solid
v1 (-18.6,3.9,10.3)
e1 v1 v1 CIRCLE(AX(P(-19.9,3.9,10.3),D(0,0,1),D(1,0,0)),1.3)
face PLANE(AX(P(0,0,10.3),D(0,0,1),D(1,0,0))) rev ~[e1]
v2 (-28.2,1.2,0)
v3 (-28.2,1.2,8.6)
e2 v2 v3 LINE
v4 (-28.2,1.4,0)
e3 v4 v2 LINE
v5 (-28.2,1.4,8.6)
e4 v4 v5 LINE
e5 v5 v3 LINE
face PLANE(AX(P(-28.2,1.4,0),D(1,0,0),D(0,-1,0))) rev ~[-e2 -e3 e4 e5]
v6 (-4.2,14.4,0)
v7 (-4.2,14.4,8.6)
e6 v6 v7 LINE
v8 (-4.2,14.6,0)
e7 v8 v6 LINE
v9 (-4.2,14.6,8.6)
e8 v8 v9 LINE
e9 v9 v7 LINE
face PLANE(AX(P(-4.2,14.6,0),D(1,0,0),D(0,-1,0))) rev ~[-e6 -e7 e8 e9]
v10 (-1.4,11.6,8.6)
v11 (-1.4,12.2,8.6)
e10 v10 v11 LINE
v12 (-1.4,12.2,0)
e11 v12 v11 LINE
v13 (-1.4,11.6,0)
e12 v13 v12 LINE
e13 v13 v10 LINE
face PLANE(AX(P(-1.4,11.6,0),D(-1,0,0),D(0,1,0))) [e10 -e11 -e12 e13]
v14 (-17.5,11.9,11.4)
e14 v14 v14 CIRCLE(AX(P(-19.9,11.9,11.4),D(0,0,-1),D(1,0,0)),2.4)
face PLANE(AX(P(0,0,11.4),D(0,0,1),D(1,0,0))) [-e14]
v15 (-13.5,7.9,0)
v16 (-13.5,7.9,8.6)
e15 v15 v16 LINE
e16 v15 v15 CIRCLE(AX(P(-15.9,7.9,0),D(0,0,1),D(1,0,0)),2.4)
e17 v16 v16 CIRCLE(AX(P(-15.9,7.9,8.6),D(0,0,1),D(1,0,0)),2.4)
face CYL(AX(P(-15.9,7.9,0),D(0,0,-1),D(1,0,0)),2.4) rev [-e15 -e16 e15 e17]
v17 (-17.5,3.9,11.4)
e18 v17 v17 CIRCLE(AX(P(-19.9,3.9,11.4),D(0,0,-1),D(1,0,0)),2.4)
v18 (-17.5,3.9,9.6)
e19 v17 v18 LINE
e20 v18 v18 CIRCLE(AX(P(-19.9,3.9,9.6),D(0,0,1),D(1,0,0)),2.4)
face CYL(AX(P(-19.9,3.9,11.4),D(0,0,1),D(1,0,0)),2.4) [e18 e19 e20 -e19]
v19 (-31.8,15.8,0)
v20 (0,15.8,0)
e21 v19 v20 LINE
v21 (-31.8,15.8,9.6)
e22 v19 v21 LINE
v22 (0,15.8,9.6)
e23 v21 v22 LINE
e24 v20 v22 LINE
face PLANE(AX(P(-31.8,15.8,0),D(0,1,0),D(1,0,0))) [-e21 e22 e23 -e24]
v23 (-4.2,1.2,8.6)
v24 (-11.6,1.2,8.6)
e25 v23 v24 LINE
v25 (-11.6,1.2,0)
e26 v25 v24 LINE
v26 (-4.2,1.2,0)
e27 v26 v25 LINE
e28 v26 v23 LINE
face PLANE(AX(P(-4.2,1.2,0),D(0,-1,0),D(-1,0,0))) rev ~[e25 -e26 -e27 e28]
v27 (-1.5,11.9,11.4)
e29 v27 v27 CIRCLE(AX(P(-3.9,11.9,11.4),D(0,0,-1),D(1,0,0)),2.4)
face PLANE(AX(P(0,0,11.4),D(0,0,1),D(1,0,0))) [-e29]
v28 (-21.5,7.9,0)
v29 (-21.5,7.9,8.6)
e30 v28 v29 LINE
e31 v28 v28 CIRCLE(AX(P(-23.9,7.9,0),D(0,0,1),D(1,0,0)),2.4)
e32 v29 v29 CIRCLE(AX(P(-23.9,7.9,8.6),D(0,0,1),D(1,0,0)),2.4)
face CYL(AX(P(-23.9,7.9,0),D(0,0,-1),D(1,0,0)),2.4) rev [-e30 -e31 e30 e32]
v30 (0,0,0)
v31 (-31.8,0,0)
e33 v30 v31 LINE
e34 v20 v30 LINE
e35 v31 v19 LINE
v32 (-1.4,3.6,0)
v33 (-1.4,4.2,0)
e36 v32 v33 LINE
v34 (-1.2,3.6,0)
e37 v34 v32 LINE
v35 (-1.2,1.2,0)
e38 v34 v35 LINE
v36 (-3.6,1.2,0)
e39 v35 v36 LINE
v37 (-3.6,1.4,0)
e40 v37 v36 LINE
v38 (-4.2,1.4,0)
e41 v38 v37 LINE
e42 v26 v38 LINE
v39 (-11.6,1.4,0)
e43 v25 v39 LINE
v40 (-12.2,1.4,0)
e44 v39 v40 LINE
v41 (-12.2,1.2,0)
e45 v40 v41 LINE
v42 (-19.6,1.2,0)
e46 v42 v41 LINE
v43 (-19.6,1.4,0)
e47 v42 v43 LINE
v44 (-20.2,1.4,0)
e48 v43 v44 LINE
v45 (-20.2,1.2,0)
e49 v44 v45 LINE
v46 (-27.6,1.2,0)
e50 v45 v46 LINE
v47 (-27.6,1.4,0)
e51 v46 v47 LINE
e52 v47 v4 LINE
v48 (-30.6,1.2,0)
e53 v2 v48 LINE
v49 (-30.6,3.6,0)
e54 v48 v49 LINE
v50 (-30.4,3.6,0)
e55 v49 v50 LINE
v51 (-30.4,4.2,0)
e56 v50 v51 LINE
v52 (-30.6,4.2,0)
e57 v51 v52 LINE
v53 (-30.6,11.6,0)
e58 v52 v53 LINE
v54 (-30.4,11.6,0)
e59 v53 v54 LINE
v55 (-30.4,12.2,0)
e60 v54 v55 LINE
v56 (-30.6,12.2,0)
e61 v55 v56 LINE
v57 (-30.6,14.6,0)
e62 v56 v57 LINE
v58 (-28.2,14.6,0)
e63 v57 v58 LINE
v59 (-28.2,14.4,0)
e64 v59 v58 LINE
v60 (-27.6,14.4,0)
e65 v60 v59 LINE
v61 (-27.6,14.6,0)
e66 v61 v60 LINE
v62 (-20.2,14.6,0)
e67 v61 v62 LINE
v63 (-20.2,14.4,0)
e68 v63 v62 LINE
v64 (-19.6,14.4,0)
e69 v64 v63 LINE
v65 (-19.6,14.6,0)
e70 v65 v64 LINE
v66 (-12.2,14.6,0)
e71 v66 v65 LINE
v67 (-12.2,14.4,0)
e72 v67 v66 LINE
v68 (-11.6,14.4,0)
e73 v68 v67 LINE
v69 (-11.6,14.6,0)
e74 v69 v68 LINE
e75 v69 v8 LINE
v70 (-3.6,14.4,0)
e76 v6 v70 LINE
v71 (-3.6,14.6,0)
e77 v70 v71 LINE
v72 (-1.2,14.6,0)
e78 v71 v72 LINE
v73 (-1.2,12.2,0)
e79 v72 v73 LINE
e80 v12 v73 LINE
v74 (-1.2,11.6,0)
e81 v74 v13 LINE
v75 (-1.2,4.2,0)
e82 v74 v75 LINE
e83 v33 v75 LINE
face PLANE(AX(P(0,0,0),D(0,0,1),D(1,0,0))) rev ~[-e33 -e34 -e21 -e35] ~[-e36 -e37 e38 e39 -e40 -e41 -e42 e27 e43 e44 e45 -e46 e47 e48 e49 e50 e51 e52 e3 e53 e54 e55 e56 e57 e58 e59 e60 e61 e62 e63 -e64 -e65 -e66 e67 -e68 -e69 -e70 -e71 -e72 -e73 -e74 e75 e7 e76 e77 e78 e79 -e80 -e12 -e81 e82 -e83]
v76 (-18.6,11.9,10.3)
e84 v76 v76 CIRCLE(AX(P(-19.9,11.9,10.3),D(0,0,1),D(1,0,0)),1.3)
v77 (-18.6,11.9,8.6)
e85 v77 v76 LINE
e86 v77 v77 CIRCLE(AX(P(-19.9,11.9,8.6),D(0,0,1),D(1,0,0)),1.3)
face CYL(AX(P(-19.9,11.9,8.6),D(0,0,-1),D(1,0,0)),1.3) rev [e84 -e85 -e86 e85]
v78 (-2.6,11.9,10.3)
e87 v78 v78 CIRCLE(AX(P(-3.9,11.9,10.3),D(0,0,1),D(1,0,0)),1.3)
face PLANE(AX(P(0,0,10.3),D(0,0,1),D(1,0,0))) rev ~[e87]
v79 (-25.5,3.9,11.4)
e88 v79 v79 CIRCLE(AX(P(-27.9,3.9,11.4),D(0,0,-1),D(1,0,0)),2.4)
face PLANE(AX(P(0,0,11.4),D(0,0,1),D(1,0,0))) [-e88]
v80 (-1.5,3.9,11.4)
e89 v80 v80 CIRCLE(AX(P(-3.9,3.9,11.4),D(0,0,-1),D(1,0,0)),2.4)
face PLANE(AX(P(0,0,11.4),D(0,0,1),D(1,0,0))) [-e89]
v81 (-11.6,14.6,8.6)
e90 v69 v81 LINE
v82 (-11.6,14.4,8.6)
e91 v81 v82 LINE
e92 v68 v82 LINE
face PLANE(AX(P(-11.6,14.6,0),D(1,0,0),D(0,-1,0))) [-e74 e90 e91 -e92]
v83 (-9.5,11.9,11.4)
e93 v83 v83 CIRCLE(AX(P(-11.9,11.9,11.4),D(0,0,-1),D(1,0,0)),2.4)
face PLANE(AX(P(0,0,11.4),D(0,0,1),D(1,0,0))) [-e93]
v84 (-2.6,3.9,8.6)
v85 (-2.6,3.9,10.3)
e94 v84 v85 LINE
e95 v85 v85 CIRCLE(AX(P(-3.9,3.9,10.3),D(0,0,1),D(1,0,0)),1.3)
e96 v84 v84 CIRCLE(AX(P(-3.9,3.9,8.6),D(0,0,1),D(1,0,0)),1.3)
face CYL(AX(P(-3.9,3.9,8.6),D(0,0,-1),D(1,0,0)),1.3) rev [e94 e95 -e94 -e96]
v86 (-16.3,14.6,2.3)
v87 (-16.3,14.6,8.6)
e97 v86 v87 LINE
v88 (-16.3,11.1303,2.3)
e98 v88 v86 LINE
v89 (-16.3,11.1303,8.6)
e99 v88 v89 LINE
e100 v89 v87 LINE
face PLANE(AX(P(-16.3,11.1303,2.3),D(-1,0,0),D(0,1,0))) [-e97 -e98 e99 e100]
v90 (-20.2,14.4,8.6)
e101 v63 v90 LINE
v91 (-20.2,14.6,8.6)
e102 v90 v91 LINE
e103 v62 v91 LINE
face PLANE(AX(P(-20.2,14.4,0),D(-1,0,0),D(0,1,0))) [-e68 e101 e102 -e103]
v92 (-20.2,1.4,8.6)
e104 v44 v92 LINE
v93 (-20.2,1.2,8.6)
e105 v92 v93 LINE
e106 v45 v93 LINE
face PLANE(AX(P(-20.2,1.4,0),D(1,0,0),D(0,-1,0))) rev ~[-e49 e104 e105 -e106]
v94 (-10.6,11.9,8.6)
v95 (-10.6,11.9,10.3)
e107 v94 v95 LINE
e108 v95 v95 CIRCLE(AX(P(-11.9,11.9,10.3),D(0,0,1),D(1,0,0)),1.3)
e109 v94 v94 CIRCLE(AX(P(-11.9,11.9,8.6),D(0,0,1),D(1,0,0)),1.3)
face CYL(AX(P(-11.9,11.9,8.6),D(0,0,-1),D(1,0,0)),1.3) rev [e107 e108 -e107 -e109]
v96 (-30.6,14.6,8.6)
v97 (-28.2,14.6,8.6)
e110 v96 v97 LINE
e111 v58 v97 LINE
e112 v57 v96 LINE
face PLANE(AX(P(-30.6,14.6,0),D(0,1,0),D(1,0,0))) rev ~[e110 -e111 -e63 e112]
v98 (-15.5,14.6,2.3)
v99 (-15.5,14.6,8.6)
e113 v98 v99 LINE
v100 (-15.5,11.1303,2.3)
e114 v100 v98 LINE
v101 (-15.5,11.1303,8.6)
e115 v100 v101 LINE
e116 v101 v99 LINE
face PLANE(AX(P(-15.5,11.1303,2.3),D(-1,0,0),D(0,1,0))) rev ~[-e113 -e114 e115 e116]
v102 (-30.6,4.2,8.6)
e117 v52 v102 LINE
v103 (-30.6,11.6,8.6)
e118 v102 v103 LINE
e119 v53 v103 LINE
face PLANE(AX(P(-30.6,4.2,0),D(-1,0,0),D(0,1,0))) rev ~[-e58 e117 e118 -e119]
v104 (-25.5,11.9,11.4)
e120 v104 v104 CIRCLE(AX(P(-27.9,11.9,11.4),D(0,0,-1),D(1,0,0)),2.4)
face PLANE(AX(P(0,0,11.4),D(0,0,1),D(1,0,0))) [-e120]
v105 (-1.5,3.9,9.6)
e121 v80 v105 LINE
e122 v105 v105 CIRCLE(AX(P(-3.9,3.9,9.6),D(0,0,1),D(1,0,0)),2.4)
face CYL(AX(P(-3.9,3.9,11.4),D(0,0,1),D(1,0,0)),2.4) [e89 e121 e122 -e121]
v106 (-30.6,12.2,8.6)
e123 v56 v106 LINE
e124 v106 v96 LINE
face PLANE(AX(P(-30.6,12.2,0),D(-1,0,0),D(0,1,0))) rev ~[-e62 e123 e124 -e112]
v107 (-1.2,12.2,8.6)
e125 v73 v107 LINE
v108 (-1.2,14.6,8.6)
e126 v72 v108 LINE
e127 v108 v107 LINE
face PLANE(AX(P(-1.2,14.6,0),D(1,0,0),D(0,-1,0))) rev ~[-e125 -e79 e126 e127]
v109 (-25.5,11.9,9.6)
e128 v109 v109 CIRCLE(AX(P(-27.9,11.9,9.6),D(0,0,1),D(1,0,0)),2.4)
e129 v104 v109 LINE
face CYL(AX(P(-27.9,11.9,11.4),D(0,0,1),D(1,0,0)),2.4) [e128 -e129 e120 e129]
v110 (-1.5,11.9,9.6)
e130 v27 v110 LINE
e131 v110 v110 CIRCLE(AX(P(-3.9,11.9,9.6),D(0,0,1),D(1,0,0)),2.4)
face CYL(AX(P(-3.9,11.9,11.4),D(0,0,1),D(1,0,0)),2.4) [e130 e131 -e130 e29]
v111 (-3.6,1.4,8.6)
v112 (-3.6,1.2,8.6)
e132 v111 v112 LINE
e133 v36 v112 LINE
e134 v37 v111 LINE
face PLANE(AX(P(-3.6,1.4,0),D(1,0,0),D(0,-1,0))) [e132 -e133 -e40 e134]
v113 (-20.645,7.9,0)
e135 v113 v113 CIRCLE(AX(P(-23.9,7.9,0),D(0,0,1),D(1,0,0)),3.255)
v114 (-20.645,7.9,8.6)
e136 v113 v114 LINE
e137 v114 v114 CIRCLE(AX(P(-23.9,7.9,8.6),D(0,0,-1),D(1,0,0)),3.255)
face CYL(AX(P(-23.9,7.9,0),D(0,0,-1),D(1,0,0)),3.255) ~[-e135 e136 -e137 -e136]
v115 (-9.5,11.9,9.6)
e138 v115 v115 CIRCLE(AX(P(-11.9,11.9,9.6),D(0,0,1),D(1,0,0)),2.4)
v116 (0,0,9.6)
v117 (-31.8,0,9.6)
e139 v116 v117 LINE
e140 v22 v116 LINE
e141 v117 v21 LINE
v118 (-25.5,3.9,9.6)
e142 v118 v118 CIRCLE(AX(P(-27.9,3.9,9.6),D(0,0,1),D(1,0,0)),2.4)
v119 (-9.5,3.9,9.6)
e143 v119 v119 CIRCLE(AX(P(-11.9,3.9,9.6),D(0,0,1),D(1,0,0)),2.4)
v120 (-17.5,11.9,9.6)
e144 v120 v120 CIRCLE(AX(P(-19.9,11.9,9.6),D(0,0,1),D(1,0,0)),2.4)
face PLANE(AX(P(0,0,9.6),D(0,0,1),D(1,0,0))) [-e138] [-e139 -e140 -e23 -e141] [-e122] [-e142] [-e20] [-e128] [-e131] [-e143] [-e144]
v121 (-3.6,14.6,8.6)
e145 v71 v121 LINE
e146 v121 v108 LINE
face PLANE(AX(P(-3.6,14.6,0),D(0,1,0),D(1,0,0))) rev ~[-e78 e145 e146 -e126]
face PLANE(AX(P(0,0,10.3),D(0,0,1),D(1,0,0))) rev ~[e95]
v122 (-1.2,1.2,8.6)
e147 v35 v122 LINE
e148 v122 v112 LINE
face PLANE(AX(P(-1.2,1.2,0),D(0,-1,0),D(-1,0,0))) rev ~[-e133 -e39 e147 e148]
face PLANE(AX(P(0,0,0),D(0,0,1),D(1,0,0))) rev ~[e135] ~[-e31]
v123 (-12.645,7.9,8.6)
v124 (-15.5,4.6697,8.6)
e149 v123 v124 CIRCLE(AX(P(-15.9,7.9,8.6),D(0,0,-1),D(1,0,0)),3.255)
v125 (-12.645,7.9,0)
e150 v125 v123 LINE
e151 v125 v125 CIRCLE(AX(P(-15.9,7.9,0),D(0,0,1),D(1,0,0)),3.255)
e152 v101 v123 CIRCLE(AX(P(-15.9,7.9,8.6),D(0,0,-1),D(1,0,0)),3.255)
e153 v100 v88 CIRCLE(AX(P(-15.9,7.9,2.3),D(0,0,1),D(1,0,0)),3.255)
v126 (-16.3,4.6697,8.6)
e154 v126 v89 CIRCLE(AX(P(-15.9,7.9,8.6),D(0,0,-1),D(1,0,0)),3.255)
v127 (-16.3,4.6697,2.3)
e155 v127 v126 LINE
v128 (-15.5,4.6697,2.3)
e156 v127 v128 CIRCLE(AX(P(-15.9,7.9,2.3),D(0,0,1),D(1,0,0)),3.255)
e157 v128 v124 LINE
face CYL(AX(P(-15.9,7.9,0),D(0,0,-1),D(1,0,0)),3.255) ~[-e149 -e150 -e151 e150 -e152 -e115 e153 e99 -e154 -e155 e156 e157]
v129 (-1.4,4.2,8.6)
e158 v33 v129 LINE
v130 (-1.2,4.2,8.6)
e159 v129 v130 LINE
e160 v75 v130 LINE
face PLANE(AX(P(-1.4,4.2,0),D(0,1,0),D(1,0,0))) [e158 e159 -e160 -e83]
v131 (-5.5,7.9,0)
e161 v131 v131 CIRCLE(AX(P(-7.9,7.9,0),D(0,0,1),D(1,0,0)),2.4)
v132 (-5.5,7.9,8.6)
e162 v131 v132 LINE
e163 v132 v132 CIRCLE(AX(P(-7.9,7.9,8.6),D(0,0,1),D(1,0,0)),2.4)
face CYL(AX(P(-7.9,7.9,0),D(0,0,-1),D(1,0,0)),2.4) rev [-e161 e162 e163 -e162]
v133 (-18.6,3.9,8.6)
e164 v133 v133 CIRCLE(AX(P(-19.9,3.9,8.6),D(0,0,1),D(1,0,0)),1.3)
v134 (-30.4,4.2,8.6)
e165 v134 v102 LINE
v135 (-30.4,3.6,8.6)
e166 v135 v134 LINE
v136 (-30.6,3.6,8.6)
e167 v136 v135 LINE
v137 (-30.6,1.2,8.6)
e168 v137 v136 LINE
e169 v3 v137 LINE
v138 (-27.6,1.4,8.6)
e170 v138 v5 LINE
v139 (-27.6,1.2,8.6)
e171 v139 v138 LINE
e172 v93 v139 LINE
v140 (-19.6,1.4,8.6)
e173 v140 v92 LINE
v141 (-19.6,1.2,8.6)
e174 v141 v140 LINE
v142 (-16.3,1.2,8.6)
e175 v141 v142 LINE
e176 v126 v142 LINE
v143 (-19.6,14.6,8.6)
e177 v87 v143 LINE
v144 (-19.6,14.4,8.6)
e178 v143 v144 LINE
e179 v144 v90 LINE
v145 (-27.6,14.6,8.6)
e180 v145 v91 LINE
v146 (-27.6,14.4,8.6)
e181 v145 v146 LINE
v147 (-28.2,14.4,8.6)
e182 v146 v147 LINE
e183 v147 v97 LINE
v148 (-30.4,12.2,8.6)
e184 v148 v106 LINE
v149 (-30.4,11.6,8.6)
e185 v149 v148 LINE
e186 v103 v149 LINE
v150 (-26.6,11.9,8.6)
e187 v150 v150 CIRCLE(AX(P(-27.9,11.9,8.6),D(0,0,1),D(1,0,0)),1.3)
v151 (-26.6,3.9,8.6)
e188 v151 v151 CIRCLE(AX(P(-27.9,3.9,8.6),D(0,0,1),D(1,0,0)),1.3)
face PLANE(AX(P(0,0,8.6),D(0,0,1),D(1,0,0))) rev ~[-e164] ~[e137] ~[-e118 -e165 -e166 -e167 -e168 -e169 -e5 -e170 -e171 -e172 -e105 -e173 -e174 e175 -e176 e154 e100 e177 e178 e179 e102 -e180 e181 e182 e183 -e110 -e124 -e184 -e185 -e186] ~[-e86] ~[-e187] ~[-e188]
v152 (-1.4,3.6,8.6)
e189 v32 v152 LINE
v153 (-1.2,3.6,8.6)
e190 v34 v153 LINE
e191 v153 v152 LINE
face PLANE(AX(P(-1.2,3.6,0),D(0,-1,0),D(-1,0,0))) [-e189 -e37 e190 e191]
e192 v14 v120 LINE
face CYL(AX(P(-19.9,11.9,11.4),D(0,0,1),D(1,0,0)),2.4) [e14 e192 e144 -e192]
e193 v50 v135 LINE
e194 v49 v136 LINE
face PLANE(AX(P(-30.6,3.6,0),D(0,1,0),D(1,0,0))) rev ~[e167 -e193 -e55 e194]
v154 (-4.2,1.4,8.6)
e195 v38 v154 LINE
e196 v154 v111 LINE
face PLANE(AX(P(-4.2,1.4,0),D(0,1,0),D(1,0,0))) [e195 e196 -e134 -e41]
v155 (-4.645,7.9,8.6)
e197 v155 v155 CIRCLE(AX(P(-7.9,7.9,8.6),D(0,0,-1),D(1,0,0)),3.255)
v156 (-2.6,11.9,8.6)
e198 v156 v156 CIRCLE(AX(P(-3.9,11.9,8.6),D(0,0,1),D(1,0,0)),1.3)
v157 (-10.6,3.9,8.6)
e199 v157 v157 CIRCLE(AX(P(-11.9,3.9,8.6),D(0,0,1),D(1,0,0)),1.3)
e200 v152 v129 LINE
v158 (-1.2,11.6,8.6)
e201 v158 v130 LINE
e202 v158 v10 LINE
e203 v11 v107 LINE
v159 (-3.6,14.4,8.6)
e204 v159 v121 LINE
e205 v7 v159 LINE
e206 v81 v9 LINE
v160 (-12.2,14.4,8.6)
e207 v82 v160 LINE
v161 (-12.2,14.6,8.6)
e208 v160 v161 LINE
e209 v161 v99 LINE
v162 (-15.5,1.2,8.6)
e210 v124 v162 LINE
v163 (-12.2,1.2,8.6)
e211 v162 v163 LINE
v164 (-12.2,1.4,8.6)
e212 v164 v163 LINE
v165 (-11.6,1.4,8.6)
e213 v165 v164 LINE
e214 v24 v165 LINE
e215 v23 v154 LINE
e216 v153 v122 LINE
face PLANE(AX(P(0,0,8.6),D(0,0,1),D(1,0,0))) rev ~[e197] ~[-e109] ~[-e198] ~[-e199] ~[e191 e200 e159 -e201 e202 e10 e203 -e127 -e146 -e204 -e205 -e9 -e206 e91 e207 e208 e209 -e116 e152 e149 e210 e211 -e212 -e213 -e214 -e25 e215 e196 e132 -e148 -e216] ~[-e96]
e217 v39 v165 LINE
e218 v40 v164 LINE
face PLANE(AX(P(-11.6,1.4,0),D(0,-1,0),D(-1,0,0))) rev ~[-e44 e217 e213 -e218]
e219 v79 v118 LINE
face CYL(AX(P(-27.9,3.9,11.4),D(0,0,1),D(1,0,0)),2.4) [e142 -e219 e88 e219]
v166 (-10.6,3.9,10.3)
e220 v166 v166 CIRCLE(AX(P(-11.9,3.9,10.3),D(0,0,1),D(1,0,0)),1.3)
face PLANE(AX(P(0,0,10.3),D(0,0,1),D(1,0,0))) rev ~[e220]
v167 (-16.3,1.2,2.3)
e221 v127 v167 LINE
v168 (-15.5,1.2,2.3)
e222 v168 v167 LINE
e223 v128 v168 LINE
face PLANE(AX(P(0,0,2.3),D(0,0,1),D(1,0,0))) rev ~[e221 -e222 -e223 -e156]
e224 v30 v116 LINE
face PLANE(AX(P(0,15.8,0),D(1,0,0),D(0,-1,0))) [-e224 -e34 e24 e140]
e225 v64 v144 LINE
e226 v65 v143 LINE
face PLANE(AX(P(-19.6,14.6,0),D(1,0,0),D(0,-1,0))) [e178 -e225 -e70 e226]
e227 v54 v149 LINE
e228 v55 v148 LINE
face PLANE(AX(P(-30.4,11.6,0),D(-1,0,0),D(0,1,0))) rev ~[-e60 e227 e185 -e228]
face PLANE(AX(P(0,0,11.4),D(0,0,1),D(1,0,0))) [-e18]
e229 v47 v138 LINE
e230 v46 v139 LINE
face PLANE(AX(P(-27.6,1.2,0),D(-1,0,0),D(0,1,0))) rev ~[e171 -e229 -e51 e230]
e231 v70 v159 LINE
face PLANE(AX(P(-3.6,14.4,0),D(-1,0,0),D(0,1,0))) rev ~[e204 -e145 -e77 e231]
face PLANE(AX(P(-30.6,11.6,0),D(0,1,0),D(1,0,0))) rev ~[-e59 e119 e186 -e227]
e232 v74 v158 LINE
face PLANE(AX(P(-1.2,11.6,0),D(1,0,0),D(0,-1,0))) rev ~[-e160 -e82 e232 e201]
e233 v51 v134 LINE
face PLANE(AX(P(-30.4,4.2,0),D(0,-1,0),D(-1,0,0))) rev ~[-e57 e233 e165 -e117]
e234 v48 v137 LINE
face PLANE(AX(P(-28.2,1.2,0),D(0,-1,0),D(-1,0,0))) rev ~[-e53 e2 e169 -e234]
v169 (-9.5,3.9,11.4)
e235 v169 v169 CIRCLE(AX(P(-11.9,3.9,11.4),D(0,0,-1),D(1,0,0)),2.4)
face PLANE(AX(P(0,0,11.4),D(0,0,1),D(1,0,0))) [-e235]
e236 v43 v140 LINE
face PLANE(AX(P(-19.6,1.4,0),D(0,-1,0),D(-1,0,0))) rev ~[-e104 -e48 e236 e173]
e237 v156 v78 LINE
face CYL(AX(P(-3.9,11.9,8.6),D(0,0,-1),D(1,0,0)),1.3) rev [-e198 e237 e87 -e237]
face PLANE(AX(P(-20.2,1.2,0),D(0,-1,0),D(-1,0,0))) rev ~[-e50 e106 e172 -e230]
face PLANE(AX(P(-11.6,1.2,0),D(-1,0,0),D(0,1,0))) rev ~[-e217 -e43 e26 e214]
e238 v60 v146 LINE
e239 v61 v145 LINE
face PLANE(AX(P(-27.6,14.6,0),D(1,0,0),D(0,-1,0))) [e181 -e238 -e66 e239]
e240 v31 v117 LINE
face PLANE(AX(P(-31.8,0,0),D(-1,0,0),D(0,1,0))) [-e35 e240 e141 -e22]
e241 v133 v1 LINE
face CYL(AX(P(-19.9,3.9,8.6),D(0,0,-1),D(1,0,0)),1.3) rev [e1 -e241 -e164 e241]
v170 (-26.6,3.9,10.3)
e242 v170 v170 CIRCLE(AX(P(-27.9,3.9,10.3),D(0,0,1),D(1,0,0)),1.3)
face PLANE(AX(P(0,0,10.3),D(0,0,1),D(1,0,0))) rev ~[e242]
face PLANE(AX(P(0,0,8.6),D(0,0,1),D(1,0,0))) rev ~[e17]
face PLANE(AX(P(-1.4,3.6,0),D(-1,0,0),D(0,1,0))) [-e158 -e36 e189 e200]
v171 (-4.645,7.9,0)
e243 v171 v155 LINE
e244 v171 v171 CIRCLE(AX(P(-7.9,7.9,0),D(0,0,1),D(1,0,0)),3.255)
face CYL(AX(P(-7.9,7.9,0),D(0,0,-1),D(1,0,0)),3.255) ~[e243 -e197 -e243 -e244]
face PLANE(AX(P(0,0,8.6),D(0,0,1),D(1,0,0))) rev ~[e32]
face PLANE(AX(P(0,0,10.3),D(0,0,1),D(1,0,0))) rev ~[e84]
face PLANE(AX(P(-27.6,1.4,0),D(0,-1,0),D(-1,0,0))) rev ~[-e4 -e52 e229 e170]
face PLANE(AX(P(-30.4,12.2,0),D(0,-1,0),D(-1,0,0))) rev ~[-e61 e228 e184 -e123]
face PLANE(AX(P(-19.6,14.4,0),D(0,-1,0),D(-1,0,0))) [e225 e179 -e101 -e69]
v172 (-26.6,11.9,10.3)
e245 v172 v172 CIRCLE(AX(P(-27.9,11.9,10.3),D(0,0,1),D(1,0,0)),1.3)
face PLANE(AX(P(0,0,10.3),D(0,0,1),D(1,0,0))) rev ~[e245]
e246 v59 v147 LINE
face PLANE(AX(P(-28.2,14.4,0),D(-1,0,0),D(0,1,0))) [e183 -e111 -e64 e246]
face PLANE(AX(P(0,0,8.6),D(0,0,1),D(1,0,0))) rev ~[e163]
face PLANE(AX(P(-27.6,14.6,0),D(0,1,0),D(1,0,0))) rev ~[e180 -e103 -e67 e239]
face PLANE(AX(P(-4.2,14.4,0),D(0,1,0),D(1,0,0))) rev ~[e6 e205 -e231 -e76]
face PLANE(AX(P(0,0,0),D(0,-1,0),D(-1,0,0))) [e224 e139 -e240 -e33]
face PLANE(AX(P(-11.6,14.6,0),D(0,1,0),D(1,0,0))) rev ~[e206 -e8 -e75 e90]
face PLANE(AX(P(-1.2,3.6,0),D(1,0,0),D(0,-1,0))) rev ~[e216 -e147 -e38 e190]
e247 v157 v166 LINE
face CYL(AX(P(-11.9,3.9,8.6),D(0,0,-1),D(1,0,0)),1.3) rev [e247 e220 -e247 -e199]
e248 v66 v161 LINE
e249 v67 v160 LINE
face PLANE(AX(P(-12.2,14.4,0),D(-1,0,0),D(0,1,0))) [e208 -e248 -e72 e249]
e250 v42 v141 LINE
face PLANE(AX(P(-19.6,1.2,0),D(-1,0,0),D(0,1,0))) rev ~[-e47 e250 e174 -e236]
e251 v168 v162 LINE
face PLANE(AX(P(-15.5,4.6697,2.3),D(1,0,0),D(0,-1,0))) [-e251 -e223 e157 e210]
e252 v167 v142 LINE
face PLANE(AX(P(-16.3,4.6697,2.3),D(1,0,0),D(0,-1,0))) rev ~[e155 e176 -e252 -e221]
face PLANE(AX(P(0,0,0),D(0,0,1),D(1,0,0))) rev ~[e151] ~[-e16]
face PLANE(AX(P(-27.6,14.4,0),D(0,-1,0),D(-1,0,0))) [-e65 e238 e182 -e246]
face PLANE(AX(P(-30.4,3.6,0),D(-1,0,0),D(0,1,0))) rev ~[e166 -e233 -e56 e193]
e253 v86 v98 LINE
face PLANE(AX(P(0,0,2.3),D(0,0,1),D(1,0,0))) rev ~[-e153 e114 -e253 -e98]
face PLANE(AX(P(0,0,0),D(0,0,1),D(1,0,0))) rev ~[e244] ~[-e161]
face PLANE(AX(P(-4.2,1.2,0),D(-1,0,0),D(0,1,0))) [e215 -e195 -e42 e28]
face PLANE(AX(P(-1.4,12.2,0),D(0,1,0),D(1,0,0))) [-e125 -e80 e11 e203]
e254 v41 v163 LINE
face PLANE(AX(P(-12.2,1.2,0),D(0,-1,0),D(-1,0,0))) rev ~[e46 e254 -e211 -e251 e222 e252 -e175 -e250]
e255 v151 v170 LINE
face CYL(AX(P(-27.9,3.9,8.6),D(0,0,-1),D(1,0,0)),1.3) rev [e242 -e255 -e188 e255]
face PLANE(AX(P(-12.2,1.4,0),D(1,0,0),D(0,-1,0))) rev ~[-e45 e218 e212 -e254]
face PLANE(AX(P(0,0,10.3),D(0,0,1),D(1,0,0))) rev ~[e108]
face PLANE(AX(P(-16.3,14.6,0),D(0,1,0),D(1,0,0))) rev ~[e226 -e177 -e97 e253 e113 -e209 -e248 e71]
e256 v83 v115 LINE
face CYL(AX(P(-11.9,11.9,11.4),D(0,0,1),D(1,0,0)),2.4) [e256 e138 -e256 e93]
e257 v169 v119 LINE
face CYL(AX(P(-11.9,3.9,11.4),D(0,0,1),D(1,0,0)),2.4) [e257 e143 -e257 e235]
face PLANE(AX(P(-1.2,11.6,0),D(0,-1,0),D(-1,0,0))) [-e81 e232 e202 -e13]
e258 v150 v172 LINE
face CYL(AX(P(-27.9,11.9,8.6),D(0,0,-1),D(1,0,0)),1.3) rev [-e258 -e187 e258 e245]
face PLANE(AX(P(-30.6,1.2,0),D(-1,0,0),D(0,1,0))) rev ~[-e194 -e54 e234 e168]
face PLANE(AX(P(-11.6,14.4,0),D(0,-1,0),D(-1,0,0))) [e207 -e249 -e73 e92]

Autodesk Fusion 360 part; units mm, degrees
sketch "side" plane through (0, 0, 0) normal (1, 0, 0) x (0, 1, 0)
  line L0 (0, 0) -> (15.8, 0)
  line L1 (15.8, 0) -> (15.8, 9.6)
  line L2 (15.8, 9.6) -> (0, 9.6)
  line L3 (0, 9.6) -> (0, 0)
  dimension "d1" = 15.8
  dimension "d2" = 9.6
sketch "top" plane through (0, 0, 0) normal (0, 0, 1) x (1, 0, 0)
  line L0 (0, 0) -> (-31.8, 0)
  line L1 (-31.8, 0) -> (-31.8, 15.8)
  line L2 (-31.8, 15.8) -> (0, 15.8)
  line L3 (0, 15.8) -> (0, 0)
  circle A0 centre (-3.9, 11.9) radius 2.4
  line L4 (0, 15.8) -> (0, 0)
  circle A1 centre (-11.9, 11.9) radius 2.4
  circle A2 centre (-19.9, 11.9) radius 2.4
  circle A3 centre (-27.9, 11.9) radius 2.4
  circle A4 centre (-3.9, 3.9) radius 2.4
  circle A5 centre (-11.9, 3.9) radius 2.4
  circle A6 centre (-19.9, 3.9) radius 2.4
  circle A7 centre (-27.9, 3.9) radius 2.4
  circle A8 centre (-7.9, 7.9) radius 3.255
  circle A9 centre (-7.9, 7.9) radius 2.4
  circle A10 centre (-3.9, 11.9) radius 1.3
  circle A11 centre (-3.9, 3.9) radius 1.3
  circle A12 centre (-11.9, 11.9) radius 1.3
  circle A13 centre (-11.9, 3.9) radius 1.3
  circle A14 centre (-19.9, 11.9) radius 1.3
  circle A15 centre (-19.9, 3.9) radius 1.3
  circle A16 centre (-27.9, 11.9) radius 1.3
  circle A17 centre (-27.9, 3.9) radius 1.3
  circle A18 centre (-15.9, 7.9) radius 3.255
  circle A19 centre (-23.9, 7.9) radius 3.255
  circle A20 centre (-15.9, 7.9) radius 2.4
  circle A21 centre (-23.9, 7.9) radius 2.4
  line L5 (-30.6, 14.6) -> (-1.2, 14.6)
  line L6 (-1.2, 14.6) -> (-1.2, 1.2)
  line L7 (-1.2, 1.2) -> (-30.6, 1.2)
  line L8 (-30.6, 1.2) -> (-30.6, 14.6)
  line L9 (-15.9, 7.9) -> (-15.9, 14.6) construction
  line L10 (-15.9, 7.9) -> (-15.9, 1.2) construction
  line L11 (-16.3, 11.1303) -> (-16.3, 14.6)
  line L12 (-15.5, 11.1303) -> (-15.5, 14.6)
  line L13 (-15.5, 4.6697) -> (-15.5, 1.2)
  line L14 (-16.3, 4.6697) -> (-16.3, 1.2)
  line L15 (-28.2, 14.6) -> (-27.6, 14.6)
  line L16 (-27.6, 14.6) -> (-27.6, 14.4)
  line L17 (-27.6, 14.4) -> (-28.2, 14.4)
  line L18 (-28.2, 14.4) -> (-28.2, 14.6)
  line L19 (-20.2, 14.6) -> (-19.6, 14.6)
  line L20 (-19.6, 14.6) -> (-19.6, 14.4)
  line L21 (-19.6, 14.4) -> (-20.2, 14.4)
  line L22 (-20.2, 14.4) -> (-20.2, 14.6)
  line L23 (-12.2, 14.6) -> (-11.6, 14.6)
  line L24 (-11.6, 14.6) -> (-11.6, 14.4)
  line L25 (-11.6, 14.4) -> (-12.2, 14.4)
  line L26 (-12.2, 14.4) -> (-12.2, 14.6)
  line L27 (-4.2, 14.4) -> (-3.6, 14.4)
  line L28 (-3.6, 14.4) -> (-3.6, 14.6)
  line L29 (-3.6, 14.6) -> (-4.2, 14.6)
  line L30 (-4.2, 14.6) -> (-4.2, 14.4)
  line L31 (-1.4, 12.2) -> (-1.2, 12.2)
  line L32 (-1.2, 12.2) -> (-1.2, 11.6)
  line L33 (-1.2, 11.6) -> (-1.4, 11.6)
  line L34 (-1.4, 11.6) -> (-1.4, 12.2)
  line L35 (-1.4, 4.2) -> (-1.2, 4.2)
  line L36 (-1.2, 4.2) -> (-1.2, 3.6)
  line L37 (-1.2, 3.6) -> (-1.4, 3.6)
  line L38 (-1.4, 3.6) -> (-1.4, 4.2)
  line L39 (-4.2, 1.4) -> (-3.6, 1.4)
  line L40 (-3.6, 1.4) -> (-3.6, 1.2)
  line L41 (-3.6, 1.2) -> (-4.2, 1.2)
  line L42 (-4.2, 1.2) -> (-4.2, 1.4)
  line L43 (-11.6, 1.4) -> (-12.2, 1.4)
  line L44 (-12.2, 1.4) -> (-12.2, 1.2)
  line L45 (-12.2, 1.2) -> (-11.6, 1.2)
  line L46 (-11.6, 1.2) -> (-11.6, 1.4)
  line L47 (-19.6, 1.4) -> (-20.2, 1.4)
  line L48 (-20.2, 1.4) -> (-20.2, 1.2)
  line L49 (-20.2, 1.2) -> (-19.6, 1.2)
  line L50 (-19.6, 1.2) -> (-19.6, 1.4)
  line L51 (-27.6, 1.4) -> (-28.2, 1.4)
  line L52 (-28.2, 1.4) -> (-28.2, 1.2)
  line L53 (-28.2, 1.2) -> (-27.6, 1.2)
  line L54 (-27.6, 1.2) -> (-27.6, 1.4)
  line L55 (-30.4, 4.2) -> (-30.6, 4.2)
  line L56 (-30.6, 4.2) -> (-30.6, 3.6)
  line L57 (-30.6, 3.6) -> (-30.4, 3.6)
  line L58 (-30.4, 3.6) -> (-30.4, 4.2)
  line L59 (-30.4, 12.2) -> (-30.6, 12.2)
  line L60 (-30.6, 12.2) -> (-30.6, 11.6)
  line L61 (-30.6, 11.6) -> (-30.4, 11.6)
  line L62 (-30.4, 11.6) -> (-30.4, 12.2)
  dimension "d3" = 31.8
  dimension "d4" = 15.8
  dimension "d5" = 4.8
  dimension "d6" = 3.9
  dimension "d7" = 3.9
  dimension "d8" = 4.8
  dimension "d9" = 4.8
  dimension "d10" = 4.8
  dimension "d11" = 4.8
  dimension "d12" = 4.8
  dimension "d13" = 4.8
  dimension "d14" = 4.8
  dimension "d15" = 3.9
  dimension "d16" = 3.9
  dimension "d17" = 3.9
  dimension "d18" = 8
  dimension "d19" = 8
  dimension "d20" = 8
  dimension "d21" = 8
  dimension "d22" = 8
  dimension "d23" = 8
  dimension "d24" = 3.9
  dimension "d25" = 8
  dimension "d26" = 8
  dimension "d27" = 8
  dimension "d28" = 8
  dimension "d29" = 6.51
  dimension "d30" = 7.9
  dimension "d31" = 7.9
  dimension "d32" = 4.8
  dimension "d33" = 2.6
  dimension "d34" = 2.6
  dimension "d35" = 2.6
  dimension "d36" = 2.6
  dimension "d37" = 2.6
  dimension "d38" = 2.6
  dimension "d39" = 2.6
  dimension "d40" = 2.6
  dimension "d41" = 6.51
  dimension "d42" = 6.51
  dimension "d43" = 8
  dimension "d44" = 7.9
  dimension "d45" = 8
  dimension "d46" = 7.9
  dimension "d47" = 4.8
  dimension "d48" = 4.8
  dimension "d49" = 1.2
  dimension "d50" = 1.2
  dimension "d51" = 1.2
  dimension "d52" = 1.2
  dimension "d53" = 0.8
  dimension "d54" = 0.4
  dimension "d55" = 0.4
  dimension "d56" = 0.8
  dimension "d57" = 0.6
  dimension "d58" = 0.2
  dimension "d60" = 0.6
  dimension "d61" = 0.3
  dimension "d62" = 0.6
  dimension "d63" = 0.3
  dimension "d64" = 0.6
  dimension "d65" = 0.3
  dimension "d66" = 0.6
  dimension "d67" = 0.3
  dimension "d68" = 0.6
  dimension "d69" = 0.6
  dimension "d70" = 0.6
  dimension "d71" = 0.6
  dimension "d72" = 0.6
  dimension "d73" = 0.6
  dimension "d74" = 0.3
  dimension "d75" = 0.6
extrude "Extrude1" add sketch "top" along normal blind 9.6 contours L0 L1 L2 L3 L4 | L5 L23 L24 L25 L26 | L5 L19 L20 L21 L22 | L7 L43 L44 L45 L46 | L5 L27 L28 L29 L30 | L7 L47 L48 L49 L50 | L5 L15 L16 L17 L18 | L7 L39 L40 L41 L42 | L7 L51 L52 L53 L54 | L6 L31 L32 L33 L34 | L8 L59 L60 L61 L62 | L6 L35 L36 L37 L38 | L8 L55 L56 L57 L58 makes body 1
extrude "Extrude2" add sketch "top" along normal blind 9.6 and the other way blind -8.6 contours A0 | A4 | A1 A5 A8 A18 L5 L6 L7 L12 L13 L24 L25 L26 L27 L28 L30 L31 L33 L34 L35 L37 L38 L39 L40 L42 L43 L44 L46 | A8 | A1 A5 A8 A18 | A1 | A18 | A5 | A18 L5 L11 L12 | A7 | A3 | A2 A6 A18 A19 L5 L7 L8 L11 L14 L16 L17 L18 L20 L21 L22 L47 L48 L50 L51 L52 L54 L55 L57 L58 L59 L61 L62 | A18 L7 L13 L14 | A2 A6 A18 A19 | A2 | A19 | A6 | A9 | A20 | A21 bodies 1
extrude "Extrude3" add sketch "top" along normal blind 9.6 and the other way blind -11.4 contours A0 | A4 | A1 | A5 | A7 | A3 | A2 | A6 | A10 | A11 | A12 | A13 | A14 | A15 | A16 | A17 bodies 1
extrude "Extrude4" cut sketch "top" along normal blind 10.3 and the other way blind -9.6 contours A10 | A11 | A12 | A13 | A14 | A15 | A16 | A17 bodies 1
extrude "Extrude5" add sketch "top" along normal blind 8.6 contours A8 | A18 | A19 bodies 1
extrude "Extrude6" add sketch "top" along normal blind 8.6 and the other way blind -2.3 contours A18 L5 L11 L12 | A18 L7 L13 L14 bodies 1
copy_body "Body->Comp1" bodies 1 removing the originals makes body 2 in component "Piesa Lego 4x2"
component "Piesa Lego 4x2" placed x (1, 0, 0) y (0, 1, 0) z (0, 0, 1) at (0, 0, 0)
equation "d84 = -9.6 mm - 1.8 mm"
equation "d86 = 8.60 mm + 1.7 mm"
